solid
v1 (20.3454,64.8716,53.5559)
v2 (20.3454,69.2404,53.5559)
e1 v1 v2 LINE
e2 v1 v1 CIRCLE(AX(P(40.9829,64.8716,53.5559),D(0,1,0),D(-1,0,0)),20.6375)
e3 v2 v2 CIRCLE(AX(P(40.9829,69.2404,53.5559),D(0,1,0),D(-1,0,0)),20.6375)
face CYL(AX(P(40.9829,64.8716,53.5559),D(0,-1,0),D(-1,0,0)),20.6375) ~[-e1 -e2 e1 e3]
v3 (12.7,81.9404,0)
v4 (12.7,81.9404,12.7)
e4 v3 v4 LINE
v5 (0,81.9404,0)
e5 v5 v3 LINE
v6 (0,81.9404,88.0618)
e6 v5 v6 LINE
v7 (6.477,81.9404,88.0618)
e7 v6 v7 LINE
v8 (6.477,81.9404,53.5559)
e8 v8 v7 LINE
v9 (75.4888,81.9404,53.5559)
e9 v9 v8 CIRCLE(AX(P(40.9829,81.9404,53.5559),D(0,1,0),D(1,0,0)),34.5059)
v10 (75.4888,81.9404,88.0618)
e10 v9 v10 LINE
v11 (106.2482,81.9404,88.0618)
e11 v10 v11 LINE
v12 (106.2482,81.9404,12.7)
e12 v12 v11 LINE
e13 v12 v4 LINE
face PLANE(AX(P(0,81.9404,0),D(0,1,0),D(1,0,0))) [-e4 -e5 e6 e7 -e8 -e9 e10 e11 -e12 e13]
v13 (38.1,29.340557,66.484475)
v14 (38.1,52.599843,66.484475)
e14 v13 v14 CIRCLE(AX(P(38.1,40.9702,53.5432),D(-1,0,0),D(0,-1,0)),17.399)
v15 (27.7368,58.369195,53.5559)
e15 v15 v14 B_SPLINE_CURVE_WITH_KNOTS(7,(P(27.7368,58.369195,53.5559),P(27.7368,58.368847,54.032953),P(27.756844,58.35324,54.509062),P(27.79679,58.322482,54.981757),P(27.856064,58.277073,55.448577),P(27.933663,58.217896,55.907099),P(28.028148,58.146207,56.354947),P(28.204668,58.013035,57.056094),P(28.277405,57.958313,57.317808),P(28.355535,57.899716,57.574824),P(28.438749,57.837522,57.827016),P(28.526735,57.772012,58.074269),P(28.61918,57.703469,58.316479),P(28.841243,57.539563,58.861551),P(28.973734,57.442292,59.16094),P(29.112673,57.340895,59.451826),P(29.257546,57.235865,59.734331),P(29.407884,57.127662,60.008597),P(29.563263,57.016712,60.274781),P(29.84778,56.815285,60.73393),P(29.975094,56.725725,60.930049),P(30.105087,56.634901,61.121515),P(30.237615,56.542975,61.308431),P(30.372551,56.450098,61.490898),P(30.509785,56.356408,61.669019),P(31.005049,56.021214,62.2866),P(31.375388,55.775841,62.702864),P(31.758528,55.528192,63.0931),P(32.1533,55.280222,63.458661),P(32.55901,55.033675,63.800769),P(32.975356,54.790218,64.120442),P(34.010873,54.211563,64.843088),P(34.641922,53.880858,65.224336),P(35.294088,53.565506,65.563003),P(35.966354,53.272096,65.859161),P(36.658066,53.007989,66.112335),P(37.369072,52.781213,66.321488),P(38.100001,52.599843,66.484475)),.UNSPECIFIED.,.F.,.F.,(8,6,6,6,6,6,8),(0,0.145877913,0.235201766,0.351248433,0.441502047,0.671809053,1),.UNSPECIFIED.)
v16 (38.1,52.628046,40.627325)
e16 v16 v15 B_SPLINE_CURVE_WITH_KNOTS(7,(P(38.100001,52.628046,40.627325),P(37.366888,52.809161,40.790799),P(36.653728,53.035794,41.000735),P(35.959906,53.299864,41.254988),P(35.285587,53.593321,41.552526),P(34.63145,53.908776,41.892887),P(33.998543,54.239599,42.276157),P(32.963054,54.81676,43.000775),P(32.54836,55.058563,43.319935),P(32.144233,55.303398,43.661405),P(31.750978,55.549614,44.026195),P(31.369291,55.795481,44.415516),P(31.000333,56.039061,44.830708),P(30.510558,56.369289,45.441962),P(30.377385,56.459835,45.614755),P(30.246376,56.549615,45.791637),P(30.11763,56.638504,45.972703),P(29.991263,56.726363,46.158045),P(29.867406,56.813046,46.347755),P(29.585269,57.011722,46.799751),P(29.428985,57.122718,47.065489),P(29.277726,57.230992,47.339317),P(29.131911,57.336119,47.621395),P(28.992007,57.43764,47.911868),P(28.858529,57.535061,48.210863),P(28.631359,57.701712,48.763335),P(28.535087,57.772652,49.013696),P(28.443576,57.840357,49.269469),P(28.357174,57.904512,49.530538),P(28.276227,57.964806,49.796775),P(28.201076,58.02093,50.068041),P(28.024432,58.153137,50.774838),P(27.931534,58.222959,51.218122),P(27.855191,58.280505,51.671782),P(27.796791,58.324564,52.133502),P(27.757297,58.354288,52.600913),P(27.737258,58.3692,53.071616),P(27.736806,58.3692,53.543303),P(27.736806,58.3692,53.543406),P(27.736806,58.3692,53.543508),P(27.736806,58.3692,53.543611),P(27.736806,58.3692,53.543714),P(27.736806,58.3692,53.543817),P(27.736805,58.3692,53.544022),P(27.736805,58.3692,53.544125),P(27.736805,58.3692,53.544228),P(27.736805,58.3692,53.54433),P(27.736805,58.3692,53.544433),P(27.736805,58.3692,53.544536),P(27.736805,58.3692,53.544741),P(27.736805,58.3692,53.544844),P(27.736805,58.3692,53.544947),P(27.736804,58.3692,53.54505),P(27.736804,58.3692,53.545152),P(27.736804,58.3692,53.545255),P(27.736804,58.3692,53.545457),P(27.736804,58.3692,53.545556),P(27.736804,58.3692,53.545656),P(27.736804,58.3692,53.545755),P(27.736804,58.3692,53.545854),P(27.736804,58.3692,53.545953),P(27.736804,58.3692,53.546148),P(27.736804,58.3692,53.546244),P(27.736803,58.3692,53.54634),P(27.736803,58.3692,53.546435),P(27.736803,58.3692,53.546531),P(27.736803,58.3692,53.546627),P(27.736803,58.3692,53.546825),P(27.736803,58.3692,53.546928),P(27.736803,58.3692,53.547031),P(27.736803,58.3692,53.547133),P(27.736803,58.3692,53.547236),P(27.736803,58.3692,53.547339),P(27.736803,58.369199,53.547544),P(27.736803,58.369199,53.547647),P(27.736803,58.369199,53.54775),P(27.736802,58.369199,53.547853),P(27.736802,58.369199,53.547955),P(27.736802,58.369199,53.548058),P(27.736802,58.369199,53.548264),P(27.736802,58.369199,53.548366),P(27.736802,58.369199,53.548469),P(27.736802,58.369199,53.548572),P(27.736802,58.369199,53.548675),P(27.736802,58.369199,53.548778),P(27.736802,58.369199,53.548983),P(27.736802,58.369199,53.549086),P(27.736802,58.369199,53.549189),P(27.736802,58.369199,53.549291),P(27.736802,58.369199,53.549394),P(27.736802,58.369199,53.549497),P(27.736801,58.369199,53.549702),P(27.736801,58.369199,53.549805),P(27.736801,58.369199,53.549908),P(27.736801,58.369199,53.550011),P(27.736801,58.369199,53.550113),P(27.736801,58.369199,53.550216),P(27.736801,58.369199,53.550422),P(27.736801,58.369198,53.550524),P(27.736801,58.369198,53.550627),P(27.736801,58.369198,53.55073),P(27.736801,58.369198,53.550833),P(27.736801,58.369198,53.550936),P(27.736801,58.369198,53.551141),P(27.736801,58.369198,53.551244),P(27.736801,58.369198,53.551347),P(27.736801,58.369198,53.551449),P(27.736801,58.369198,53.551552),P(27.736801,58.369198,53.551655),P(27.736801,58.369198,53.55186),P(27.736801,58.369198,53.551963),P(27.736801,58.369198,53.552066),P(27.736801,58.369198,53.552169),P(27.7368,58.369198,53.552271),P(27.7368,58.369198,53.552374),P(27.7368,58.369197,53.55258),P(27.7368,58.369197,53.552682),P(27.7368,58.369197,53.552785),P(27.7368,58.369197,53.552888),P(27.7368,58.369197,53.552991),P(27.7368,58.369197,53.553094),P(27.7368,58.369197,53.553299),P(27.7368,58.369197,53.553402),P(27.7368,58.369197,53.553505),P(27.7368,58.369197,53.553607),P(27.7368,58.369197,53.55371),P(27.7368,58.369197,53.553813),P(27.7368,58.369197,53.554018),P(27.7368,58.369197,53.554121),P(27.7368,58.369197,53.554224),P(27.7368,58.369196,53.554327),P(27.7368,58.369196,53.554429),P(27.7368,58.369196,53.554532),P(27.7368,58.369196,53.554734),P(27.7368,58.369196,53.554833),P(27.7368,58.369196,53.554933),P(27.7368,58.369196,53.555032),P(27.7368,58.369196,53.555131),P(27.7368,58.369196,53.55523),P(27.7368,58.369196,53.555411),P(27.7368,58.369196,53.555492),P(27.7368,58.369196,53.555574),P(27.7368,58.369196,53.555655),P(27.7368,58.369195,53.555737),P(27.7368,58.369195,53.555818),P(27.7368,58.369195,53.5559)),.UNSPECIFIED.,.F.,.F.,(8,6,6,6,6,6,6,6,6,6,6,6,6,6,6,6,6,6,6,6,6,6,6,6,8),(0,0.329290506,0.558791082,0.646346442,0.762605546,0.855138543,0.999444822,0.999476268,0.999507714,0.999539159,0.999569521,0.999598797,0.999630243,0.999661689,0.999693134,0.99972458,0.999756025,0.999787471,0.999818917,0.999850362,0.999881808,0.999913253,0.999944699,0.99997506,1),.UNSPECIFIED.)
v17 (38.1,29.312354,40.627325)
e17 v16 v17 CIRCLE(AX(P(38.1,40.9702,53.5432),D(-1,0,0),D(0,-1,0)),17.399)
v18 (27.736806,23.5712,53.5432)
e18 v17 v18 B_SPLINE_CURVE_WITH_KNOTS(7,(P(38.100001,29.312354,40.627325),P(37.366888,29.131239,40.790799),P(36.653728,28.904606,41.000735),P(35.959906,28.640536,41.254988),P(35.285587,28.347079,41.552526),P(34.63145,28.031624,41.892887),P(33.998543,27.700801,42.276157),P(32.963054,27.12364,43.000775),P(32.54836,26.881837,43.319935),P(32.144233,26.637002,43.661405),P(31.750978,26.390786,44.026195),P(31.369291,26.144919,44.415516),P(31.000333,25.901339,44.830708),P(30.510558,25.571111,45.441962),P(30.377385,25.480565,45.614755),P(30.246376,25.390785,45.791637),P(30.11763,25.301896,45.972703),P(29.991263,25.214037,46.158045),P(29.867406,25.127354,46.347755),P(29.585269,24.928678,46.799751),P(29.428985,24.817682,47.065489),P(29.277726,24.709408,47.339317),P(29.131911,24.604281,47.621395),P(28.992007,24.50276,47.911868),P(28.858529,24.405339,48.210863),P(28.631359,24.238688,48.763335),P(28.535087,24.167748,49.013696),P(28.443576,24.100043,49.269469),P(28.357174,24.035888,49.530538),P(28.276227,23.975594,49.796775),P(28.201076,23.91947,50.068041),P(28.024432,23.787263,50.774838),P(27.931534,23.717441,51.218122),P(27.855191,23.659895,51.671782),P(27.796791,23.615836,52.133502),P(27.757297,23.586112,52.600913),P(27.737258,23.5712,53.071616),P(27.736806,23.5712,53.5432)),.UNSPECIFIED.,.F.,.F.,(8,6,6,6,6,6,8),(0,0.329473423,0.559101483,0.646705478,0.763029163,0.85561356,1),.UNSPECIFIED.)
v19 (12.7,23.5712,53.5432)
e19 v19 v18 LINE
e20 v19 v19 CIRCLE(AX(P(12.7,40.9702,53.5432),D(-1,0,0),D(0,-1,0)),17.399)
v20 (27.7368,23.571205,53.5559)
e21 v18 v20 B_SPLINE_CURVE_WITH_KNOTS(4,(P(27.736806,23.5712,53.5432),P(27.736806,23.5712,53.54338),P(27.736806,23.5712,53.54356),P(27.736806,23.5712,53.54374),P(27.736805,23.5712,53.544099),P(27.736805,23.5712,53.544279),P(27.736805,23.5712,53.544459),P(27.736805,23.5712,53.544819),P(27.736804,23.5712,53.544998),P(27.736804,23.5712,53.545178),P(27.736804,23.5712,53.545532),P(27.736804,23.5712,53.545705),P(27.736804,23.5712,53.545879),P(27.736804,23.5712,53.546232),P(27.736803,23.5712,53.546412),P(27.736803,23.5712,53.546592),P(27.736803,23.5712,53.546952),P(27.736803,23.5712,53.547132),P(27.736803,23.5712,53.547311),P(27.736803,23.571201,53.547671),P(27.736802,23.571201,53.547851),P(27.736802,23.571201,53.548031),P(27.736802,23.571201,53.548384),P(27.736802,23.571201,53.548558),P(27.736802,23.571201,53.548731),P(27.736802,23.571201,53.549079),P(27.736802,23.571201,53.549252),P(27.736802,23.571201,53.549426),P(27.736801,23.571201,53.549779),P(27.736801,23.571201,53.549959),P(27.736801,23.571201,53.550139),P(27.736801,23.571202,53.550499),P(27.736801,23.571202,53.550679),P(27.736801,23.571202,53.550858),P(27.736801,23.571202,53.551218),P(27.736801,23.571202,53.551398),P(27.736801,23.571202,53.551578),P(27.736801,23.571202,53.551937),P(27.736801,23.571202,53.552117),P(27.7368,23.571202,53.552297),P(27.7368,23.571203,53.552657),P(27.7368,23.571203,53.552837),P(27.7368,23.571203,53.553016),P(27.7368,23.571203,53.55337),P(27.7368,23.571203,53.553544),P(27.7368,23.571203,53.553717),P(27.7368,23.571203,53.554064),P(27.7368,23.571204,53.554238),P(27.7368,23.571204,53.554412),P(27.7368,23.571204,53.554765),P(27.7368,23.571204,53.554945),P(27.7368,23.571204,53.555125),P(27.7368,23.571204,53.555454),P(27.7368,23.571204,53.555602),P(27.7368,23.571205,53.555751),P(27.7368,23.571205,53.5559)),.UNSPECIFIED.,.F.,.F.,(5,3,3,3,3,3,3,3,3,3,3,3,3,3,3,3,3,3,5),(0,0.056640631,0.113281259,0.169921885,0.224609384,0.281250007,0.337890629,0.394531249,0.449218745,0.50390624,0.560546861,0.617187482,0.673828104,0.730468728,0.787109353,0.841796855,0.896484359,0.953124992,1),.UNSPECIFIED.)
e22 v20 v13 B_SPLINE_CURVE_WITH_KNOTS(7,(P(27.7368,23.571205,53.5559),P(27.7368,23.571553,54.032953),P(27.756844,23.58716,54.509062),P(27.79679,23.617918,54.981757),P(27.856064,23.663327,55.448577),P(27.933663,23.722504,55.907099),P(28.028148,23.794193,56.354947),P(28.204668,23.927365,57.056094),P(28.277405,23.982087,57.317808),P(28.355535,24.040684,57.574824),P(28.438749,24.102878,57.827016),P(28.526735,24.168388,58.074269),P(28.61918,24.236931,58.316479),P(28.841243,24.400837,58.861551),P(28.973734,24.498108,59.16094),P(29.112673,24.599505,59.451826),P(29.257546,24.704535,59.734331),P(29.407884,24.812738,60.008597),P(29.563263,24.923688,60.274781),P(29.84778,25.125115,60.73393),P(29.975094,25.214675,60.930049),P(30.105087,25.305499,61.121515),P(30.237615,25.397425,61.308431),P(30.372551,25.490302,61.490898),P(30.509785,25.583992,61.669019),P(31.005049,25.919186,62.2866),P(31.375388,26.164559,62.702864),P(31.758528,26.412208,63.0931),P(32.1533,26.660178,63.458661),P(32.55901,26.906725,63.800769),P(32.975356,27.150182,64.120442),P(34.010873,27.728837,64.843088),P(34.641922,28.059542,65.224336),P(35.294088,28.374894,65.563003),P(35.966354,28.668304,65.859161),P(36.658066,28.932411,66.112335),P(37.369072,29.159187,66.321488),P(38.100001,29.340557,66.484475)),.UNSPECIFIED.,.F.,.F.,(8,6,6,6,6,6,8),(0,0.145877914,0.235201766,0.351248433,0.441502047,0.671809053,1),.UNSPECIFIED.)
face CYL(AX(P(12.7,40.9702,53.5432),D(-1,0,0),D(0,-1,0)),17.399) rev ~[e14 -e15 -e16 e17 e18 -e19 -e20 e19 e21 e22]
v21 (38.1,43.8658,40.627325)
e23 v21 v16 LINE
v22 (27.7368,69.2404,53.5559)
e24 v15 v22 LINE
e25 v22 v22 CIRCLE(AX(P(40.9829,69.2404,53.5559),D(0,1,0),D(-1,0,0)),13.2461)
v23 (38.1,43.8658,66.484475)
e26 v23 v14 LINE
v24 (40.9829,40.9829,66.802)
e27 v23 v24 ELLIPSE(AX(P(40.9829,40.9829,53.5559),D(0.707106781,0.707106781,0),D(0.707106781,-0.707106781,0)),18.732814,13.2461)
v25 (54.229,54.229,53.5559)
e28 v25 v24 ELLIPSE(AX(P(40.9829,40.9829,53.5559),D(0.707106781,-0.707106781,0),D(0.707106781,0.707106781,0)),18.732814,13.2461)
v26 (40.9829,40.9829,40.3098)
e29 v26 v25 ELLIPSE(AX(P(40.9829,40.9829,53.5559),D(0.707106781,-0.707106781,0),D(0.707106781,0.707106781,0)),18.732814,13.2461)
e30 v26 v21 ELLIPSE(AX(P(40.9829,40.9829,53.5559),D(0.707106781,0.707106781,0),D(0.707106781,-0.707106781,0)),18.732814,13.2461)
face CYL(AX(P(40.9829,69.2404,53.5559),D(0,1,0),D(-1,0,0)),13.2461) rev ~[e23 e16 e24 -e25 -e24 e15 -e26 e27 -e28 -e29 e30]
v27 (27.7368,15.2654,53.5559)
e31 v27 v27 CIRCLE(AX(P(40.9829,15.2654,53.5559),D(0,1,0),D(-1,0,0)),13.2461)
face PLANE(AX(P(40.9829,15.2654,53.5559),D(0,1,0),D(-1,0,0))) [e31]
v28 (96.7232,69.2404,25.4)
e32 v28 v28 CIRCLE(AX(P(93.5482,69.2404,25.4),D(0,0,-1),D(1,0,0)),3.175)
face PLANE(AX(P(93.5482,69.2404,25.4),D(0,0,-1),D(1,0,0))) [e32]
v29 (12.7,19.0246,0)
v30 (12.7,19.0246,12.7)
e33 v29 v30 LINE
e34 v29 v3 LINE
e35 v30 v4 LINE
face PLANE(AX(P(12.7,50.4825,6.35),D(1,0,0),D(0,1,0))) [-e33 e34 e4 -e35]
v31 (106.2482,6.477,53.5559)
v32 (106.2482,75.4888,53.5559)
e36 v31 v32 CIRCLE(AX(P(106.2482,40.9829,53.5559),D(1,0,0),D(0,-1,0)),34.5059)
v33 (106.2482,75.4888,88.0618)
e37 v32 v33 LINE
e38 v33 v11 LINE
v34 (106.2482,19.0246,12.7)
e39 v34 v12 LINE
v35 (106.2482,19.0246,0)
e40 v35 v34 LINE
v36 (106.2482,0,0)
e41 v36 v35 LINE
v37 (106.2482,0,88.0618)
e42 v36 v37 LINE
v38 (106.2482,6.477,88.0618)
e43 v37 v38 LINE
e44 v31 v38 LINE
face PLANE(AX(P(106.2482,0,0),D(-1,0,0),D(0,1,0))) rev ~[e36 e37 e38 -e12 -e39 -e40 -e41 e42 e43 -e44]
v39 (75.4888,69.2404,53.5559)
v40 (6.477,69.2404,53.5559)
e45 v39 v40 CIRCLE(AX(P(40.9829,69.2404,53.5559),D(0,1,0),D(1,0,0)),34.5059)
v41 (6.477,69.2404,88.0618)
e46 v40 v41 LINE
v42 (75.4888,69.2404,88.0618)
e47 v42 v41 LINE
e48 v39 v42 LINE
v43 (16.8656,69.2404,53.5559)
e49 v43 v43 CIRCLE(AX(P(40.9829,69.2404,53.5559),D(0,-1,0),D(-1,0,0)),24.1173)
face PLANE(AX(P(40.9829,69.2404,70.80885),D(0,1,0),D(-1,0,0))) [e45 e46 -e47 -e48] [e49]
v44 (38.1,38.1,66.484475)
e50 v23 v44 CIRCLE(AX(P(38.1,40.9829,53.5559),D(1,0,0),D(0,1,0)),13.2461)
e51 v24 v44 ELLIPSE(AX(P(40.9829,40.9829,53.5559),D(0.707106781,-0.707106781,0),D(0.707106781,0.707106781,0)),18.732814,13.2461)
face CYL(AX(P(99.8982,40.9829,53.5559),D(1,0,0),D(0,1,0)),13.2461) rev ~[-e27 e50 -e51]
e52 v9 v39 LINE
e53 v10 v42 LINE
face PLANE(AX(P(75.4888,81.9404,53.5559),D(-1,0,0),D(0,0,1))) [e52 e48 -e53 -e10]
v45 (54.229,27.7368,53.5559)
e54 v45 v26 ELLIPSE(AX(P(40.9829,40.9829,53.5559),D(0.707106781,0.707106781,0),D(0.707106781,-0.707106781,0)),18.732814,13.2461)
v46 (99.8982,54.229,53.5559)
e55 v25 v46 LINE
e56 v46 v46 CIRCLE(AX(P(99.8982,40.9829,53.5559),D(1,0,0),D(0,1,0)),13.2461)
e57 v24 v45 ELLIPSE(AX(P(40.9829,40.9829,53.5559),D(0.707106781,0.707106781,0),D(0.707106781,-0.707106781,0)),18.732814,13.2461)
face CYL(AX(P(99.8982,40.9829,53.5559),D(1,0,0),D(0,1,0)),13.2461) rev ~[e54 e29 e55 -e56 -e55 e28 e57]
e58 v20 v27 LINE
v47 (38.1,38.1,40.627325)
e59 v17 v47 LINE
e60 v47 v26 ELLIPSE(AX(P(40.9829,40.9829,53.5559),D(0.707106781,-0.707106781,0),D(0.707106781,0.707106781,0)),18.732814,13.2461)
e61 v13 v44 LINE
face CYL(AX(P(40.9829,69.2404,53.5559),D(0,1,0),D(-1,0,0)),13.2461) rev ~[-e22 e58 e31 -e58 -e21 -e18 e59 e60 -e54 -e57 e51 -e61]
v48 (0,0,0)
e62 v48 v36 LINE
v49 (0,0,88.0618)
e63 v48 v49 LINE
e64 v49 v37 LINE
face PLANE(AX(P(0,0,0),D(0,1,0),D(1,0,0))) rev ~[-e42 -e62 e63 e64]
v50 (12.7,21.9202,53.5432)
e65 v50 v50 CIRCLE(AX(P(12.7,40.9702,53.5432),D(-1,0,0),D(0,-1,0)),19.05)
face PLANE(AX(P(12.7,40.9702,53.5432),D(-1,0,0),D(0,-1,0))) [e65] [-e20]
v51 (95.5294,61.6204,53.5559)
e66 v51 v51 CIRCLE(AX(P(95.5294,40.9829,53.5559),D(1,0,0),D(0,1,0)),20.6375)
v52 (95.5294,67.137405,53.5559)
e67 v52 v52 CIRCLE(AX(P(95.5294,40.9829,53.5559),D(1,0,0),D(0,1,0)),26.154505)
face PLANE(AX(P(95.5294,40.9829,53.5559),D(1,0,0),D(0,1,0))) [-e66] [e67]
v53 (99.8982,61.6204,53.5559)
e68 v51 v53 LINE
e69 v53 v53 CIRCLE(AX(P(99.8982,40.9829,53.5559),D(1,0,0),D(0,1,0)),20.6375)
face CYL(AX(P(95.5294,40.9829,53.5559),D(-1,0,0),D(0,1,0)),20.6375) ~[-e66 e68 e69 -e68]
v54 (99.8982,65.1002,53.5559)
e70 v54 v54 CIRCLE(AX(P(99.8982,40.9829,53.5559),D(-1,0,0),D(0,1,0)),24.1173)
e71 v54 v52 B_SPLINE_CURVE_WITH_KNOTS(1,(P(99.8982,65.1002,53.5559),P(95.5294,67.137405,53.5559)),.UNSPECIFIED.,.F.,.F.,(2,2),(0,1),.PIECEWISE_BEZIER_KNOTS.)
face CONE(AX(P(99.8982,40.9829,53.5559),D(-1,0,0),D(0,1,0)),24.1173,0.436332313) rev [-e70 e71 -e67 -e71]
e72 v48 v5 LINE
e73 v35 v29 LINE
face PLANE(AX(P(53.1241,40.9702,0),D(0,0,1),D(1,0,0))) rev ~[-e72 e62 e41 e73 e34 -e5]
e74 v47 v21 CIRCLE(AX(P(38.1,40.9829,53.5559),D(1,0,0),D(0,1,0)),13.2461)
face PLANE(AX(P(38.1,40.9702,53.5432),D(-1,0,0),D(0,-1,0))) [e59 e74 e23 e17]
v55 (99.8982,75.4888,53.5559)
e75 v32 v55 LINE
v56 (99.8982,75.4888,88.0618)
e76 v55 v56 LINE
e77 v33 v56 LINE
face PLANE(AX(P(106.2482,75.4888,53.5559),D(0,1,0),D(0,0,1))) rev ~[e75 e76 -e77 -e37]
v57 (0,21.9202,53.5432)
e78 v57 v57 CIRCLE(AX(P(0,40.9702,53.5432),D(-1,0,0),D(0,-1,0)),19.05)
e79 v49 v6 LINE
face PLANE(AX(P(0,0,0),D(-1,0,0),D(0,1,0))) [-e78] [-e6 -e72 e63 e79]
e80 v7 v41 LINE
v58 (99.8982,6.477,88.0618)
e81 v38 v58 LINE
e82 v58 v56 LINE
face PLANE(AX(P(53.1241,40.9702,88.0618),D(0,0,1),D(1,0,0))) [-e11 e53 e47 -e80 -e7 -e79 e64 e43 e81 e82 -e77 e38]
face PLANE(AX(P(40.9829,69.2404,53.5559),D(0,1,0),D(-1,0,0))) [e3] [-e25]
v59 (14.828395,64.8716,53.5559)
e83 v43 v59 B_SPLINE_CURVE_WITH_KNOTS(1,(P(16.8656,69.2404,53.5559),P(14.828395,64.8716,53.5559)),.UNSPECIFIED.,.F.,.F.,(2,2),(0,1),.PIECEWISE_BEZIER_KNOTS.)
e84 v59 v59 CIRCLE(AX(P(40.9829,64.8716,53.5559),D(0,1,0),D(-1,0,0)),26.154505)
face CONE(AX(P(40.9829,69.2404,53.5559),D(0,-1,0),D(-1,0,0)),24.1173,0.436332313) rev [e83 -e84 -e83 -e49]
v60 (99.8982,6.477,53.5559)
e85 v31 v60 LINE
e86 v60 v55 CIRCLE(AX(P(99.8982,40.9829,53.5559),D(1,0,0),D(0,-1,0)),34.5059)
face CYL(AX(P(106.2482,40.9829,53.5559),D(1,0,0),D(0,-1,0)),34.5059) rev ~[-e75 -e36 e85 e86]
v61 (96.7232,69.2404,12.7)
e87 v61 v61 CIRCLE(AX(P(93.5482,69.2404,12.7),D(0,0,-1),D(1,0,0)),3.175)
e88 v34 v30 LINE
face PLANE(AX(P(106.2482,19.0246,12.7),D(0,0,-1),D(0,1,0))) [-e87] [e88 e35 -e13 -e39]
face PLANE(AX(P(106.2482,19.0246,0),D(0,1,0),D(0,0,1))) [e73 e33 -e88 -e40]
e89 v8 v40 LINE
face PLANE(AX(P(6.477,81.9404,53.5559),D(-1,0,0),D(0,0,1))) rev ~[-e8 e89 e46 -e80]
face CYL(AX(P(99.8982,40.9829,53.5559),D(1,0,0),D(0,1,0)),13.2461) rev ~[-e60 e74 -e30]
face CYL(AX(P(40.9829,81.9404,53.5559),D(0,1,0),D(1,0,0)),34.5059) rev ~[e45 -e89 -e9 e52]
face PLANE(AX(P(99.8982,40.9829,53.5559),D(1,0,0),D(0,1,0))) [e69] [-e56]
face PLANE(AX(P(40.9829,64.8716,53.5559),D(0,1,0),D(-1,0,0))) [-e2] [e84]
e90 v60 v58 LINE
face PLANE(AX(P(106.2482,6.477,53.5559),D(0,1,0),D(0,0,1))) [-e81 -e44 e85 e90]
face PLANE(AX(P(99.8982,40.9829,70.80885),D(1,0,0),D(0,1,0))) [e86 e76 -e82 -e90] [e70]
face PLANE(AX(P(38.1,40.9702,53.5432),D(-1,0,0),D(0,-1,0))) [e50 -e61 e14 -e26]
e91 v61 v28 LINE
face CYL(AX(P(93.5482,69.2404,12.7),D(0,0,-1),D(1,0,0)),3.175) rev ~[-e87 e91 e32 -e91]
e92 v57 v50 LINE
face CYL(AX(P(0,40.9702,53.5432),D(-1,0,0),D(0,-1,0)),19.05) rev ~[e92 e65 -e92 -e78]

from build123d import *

# Parameters (mm, degrees)
F0_W      = 106.2482
F0_H      = 81.9404
F1_DEPTH  = 88.0618
F2_W      = 62.9158
F2_H      = 12.7
F3_DEPTH  = 93.5482
F4_W      = 69.0118
F4_H      = 34.5059
F5_DEPTH  = 6.35
F6_W      = 69.0118
F6_H      = 34.5059
F7_DEPTH  = 12.7
F8_R      = 13.2461
F9_DEPTH  = 69.0118
F10_R     = 13.2461
F11_DEPTH = 53.975
F12_R     = 19.05
F13_DEPTH = 12.7
F14_R     = 3.175
F15_DEPTH = 12.7
F16_R     = 24.1173
F17_DEPTH = 4.3688
F17_TAPER = -25
F18_R     = 20.6375
F19_DEPTH = 4.3688
F20_R     = 13.2461
F21_DEPTH = 25.4
F23_R     = 17.399
F24_DEPTH = 25.4
F22_R     = 24.1173
F22_R_2   = 13.2461
F25_DEPTH = 4.3688
F25_TAPER = -25
F26_R     = 20.6375
F27_DEPTH = 4.3688
F28_R     = 13.2461
F29_DEPTH = 4.3688


with BuildPart() as f1:
    # F0 (on Top) → F1 (new body)
    with BuildSketch(Plane.XY):
        with Locations((53.1241, 40.9702)):
            Rectangle(F0_W, F0_H)
    extrude(amount=F1_DEPTH)

    # F2 (on face) → F3 (cut)
    with BuildSketch(Plane.YZ.offset(106.2482)):
        with Locations((50.4825, 6.35)):
            Rectangle(F2_W, F2_H)
    extrude(amount=-F3_DEPTH, mode=Mode.SUBTRACT)

    # F4 (on face) → F5 (cut)
    with BuildSketch(Plane.YZ.offset(106.2482)):
        with Locations((40.9829, 70.80885)):
            Rectangle(F4_W, F4_H)
        with BuildLine():
            Line((75.4888, 53.5559), (6.477, 53.5559))
            ThreePointArc((6.477, 53.5559), (40.9829, 19.05), (75.4888, 53.5559))
        make_face()
    extrude(amount=-F5_DEPTH, mode=Mode.SUBTRACT)

    # F6 (on face) → F7 (cut)
    with BuildSketch(Plane(origin=(0, 81.9404, 0), x_dir=(-1, 0, 0), z_dir=(0, 1, 0))):
        with Locations((-40.9829, 70.80885)):
            Rectangle(F6_W, F6_H)
        with BuildLine():
            Line((-6.477, 53.5559), (-75.4888, 53.5559))
            ThreePointArc((-75.4888, 53.5559), (-40.9829, 19.05), (-6.477, 53.5559))
        make_face()
    extrude(amount=-F7_DEPTH, mode=Mode.SUBTRACT)

    # F8 (on face) → F9 (cut)
    with BuildSketch(Plane.YZ.offset(99.8982)):
        with Locations((40.9829, 53.5559)):
            Circle(F8_R)
    extrude(amount=-F9_DEPTH, mode=Mode.SUBTRACT)

    # F10 (on face) → F11 (cut)
    with BuildSketch(Plane(origin=(0, 69.2404, 0), x_dir=(-1, 0, 0), z_dir=(0, 1, 0))):
        with Locations((-40.9829, 53.5559)):
            Circle(F10_R)
    extrude(amount=-F11_DEPTH, mode=Mode.SUBTRACT)

    # F12 (on face) → F13 (cut)
    with BuildSketch(Plane(origin=(0, 0, 0), x_dir=(0, -1, 0), z_dir=(-1, 0, 0))):
        with Locations((-40.9702, 53.5432)):
            Circle(F12_R)
    extrude(amount=-F13_DEPTH, mode=Mode.SUBTRACT)

    # F14 (on face) → F15 (cut)
    with BuildSketch(Plane(origin=(0, 0, 12.7), x_dir=(1, 0, 0), z_dir=(0, 0, -1))):
        with Locations((93.5482, -69.2404)):
            Circle(F14_R)
    extrude(amount=-F15_DEPTH, mode=Mode.SUBTRACT)

    # F16 (on face) → F17 (cut)
    with BuildSketch(Plane.YZ.offset(99.8982)):
        with Locations((40.9829, 53.5559)):
            Circle(F16_R)
    extrude(amount=-F17_DEPTH, taper=F17_TAPER, mode=Mode.SUBTRACT)

    # F18 (on face) → F19 (join)
    with BuildSketch(Plane.YZ.offset(95.5294)):
        with Locations((40.9829, 53.5559)):
            Circle(F18_R)
    extrude(amount=F19_DEPTH)

    # F20 (on face) → F21 (cut)
    with BuildSketch(Plane.YZ.offset(99.8982)):
        with Locations((40.9829, 53.5559)):
            Circle(F20_R)
    extrude(amount=-F21_DEPTH, mode=Mode.SUBTRACT)

    # F23 (on face) → F24 (cut)
    with BuildSketch(Plane(origin=(12.7, 0, 0), x_dir=(0, -1, 0), z_dir=(-1, 0, 0))):
        with Locations((-40.9702, 53.5432)):
            Circle(F23_R)
    extrude(amount=-F24_DEPTH, mode=Mode.SUBTRACT)

    # F22 (on face) → F25 (cut)
    with BuildSketch(Plane(origin=(0, 69.2404, 0), x_dir=(-1, 0, 0), z_dir=(0, 1, 0))):
        with Locations((-40.9829, 53.5559)):
            Circle(F22_R)
        with Locations((-40.9829, 53.5559)):
            Circle(F22_R_2, mode=Mode.SUBTRACT)
        with Locations((-40.9829, 53.5559)):
            Circle(F22_R)
    extrude(amount=-F25_DEPTH, taper=F25_TAPER, mode=Mode.SUBTRACT)

    # F26 (on face) → F27 (join)
    with BuildSketch(Plane(origin=(0, 64.8716, 0), x_dir=(-1, 0, 0), z_dir=(0, 1, 0))):
        with Locations((-40.9829, 53.5559)):
            Circle(F26_R)
    extrude(amount=F27_DEPTH)

    # F28 (on face) → F29 (cut, through all)
    with BuildSketch(Plane(origin=(0, 69.2404, 0), x_dir=(-1, 0, 0), z_dir=(0, 1, 0))):
        with Locations((-40.9829, 53.5559)):
            Circle(F28_R)
    extrude(amount=-F29_DEPTH, mode=Mode.SUBTRACT)


solid = f1.part
